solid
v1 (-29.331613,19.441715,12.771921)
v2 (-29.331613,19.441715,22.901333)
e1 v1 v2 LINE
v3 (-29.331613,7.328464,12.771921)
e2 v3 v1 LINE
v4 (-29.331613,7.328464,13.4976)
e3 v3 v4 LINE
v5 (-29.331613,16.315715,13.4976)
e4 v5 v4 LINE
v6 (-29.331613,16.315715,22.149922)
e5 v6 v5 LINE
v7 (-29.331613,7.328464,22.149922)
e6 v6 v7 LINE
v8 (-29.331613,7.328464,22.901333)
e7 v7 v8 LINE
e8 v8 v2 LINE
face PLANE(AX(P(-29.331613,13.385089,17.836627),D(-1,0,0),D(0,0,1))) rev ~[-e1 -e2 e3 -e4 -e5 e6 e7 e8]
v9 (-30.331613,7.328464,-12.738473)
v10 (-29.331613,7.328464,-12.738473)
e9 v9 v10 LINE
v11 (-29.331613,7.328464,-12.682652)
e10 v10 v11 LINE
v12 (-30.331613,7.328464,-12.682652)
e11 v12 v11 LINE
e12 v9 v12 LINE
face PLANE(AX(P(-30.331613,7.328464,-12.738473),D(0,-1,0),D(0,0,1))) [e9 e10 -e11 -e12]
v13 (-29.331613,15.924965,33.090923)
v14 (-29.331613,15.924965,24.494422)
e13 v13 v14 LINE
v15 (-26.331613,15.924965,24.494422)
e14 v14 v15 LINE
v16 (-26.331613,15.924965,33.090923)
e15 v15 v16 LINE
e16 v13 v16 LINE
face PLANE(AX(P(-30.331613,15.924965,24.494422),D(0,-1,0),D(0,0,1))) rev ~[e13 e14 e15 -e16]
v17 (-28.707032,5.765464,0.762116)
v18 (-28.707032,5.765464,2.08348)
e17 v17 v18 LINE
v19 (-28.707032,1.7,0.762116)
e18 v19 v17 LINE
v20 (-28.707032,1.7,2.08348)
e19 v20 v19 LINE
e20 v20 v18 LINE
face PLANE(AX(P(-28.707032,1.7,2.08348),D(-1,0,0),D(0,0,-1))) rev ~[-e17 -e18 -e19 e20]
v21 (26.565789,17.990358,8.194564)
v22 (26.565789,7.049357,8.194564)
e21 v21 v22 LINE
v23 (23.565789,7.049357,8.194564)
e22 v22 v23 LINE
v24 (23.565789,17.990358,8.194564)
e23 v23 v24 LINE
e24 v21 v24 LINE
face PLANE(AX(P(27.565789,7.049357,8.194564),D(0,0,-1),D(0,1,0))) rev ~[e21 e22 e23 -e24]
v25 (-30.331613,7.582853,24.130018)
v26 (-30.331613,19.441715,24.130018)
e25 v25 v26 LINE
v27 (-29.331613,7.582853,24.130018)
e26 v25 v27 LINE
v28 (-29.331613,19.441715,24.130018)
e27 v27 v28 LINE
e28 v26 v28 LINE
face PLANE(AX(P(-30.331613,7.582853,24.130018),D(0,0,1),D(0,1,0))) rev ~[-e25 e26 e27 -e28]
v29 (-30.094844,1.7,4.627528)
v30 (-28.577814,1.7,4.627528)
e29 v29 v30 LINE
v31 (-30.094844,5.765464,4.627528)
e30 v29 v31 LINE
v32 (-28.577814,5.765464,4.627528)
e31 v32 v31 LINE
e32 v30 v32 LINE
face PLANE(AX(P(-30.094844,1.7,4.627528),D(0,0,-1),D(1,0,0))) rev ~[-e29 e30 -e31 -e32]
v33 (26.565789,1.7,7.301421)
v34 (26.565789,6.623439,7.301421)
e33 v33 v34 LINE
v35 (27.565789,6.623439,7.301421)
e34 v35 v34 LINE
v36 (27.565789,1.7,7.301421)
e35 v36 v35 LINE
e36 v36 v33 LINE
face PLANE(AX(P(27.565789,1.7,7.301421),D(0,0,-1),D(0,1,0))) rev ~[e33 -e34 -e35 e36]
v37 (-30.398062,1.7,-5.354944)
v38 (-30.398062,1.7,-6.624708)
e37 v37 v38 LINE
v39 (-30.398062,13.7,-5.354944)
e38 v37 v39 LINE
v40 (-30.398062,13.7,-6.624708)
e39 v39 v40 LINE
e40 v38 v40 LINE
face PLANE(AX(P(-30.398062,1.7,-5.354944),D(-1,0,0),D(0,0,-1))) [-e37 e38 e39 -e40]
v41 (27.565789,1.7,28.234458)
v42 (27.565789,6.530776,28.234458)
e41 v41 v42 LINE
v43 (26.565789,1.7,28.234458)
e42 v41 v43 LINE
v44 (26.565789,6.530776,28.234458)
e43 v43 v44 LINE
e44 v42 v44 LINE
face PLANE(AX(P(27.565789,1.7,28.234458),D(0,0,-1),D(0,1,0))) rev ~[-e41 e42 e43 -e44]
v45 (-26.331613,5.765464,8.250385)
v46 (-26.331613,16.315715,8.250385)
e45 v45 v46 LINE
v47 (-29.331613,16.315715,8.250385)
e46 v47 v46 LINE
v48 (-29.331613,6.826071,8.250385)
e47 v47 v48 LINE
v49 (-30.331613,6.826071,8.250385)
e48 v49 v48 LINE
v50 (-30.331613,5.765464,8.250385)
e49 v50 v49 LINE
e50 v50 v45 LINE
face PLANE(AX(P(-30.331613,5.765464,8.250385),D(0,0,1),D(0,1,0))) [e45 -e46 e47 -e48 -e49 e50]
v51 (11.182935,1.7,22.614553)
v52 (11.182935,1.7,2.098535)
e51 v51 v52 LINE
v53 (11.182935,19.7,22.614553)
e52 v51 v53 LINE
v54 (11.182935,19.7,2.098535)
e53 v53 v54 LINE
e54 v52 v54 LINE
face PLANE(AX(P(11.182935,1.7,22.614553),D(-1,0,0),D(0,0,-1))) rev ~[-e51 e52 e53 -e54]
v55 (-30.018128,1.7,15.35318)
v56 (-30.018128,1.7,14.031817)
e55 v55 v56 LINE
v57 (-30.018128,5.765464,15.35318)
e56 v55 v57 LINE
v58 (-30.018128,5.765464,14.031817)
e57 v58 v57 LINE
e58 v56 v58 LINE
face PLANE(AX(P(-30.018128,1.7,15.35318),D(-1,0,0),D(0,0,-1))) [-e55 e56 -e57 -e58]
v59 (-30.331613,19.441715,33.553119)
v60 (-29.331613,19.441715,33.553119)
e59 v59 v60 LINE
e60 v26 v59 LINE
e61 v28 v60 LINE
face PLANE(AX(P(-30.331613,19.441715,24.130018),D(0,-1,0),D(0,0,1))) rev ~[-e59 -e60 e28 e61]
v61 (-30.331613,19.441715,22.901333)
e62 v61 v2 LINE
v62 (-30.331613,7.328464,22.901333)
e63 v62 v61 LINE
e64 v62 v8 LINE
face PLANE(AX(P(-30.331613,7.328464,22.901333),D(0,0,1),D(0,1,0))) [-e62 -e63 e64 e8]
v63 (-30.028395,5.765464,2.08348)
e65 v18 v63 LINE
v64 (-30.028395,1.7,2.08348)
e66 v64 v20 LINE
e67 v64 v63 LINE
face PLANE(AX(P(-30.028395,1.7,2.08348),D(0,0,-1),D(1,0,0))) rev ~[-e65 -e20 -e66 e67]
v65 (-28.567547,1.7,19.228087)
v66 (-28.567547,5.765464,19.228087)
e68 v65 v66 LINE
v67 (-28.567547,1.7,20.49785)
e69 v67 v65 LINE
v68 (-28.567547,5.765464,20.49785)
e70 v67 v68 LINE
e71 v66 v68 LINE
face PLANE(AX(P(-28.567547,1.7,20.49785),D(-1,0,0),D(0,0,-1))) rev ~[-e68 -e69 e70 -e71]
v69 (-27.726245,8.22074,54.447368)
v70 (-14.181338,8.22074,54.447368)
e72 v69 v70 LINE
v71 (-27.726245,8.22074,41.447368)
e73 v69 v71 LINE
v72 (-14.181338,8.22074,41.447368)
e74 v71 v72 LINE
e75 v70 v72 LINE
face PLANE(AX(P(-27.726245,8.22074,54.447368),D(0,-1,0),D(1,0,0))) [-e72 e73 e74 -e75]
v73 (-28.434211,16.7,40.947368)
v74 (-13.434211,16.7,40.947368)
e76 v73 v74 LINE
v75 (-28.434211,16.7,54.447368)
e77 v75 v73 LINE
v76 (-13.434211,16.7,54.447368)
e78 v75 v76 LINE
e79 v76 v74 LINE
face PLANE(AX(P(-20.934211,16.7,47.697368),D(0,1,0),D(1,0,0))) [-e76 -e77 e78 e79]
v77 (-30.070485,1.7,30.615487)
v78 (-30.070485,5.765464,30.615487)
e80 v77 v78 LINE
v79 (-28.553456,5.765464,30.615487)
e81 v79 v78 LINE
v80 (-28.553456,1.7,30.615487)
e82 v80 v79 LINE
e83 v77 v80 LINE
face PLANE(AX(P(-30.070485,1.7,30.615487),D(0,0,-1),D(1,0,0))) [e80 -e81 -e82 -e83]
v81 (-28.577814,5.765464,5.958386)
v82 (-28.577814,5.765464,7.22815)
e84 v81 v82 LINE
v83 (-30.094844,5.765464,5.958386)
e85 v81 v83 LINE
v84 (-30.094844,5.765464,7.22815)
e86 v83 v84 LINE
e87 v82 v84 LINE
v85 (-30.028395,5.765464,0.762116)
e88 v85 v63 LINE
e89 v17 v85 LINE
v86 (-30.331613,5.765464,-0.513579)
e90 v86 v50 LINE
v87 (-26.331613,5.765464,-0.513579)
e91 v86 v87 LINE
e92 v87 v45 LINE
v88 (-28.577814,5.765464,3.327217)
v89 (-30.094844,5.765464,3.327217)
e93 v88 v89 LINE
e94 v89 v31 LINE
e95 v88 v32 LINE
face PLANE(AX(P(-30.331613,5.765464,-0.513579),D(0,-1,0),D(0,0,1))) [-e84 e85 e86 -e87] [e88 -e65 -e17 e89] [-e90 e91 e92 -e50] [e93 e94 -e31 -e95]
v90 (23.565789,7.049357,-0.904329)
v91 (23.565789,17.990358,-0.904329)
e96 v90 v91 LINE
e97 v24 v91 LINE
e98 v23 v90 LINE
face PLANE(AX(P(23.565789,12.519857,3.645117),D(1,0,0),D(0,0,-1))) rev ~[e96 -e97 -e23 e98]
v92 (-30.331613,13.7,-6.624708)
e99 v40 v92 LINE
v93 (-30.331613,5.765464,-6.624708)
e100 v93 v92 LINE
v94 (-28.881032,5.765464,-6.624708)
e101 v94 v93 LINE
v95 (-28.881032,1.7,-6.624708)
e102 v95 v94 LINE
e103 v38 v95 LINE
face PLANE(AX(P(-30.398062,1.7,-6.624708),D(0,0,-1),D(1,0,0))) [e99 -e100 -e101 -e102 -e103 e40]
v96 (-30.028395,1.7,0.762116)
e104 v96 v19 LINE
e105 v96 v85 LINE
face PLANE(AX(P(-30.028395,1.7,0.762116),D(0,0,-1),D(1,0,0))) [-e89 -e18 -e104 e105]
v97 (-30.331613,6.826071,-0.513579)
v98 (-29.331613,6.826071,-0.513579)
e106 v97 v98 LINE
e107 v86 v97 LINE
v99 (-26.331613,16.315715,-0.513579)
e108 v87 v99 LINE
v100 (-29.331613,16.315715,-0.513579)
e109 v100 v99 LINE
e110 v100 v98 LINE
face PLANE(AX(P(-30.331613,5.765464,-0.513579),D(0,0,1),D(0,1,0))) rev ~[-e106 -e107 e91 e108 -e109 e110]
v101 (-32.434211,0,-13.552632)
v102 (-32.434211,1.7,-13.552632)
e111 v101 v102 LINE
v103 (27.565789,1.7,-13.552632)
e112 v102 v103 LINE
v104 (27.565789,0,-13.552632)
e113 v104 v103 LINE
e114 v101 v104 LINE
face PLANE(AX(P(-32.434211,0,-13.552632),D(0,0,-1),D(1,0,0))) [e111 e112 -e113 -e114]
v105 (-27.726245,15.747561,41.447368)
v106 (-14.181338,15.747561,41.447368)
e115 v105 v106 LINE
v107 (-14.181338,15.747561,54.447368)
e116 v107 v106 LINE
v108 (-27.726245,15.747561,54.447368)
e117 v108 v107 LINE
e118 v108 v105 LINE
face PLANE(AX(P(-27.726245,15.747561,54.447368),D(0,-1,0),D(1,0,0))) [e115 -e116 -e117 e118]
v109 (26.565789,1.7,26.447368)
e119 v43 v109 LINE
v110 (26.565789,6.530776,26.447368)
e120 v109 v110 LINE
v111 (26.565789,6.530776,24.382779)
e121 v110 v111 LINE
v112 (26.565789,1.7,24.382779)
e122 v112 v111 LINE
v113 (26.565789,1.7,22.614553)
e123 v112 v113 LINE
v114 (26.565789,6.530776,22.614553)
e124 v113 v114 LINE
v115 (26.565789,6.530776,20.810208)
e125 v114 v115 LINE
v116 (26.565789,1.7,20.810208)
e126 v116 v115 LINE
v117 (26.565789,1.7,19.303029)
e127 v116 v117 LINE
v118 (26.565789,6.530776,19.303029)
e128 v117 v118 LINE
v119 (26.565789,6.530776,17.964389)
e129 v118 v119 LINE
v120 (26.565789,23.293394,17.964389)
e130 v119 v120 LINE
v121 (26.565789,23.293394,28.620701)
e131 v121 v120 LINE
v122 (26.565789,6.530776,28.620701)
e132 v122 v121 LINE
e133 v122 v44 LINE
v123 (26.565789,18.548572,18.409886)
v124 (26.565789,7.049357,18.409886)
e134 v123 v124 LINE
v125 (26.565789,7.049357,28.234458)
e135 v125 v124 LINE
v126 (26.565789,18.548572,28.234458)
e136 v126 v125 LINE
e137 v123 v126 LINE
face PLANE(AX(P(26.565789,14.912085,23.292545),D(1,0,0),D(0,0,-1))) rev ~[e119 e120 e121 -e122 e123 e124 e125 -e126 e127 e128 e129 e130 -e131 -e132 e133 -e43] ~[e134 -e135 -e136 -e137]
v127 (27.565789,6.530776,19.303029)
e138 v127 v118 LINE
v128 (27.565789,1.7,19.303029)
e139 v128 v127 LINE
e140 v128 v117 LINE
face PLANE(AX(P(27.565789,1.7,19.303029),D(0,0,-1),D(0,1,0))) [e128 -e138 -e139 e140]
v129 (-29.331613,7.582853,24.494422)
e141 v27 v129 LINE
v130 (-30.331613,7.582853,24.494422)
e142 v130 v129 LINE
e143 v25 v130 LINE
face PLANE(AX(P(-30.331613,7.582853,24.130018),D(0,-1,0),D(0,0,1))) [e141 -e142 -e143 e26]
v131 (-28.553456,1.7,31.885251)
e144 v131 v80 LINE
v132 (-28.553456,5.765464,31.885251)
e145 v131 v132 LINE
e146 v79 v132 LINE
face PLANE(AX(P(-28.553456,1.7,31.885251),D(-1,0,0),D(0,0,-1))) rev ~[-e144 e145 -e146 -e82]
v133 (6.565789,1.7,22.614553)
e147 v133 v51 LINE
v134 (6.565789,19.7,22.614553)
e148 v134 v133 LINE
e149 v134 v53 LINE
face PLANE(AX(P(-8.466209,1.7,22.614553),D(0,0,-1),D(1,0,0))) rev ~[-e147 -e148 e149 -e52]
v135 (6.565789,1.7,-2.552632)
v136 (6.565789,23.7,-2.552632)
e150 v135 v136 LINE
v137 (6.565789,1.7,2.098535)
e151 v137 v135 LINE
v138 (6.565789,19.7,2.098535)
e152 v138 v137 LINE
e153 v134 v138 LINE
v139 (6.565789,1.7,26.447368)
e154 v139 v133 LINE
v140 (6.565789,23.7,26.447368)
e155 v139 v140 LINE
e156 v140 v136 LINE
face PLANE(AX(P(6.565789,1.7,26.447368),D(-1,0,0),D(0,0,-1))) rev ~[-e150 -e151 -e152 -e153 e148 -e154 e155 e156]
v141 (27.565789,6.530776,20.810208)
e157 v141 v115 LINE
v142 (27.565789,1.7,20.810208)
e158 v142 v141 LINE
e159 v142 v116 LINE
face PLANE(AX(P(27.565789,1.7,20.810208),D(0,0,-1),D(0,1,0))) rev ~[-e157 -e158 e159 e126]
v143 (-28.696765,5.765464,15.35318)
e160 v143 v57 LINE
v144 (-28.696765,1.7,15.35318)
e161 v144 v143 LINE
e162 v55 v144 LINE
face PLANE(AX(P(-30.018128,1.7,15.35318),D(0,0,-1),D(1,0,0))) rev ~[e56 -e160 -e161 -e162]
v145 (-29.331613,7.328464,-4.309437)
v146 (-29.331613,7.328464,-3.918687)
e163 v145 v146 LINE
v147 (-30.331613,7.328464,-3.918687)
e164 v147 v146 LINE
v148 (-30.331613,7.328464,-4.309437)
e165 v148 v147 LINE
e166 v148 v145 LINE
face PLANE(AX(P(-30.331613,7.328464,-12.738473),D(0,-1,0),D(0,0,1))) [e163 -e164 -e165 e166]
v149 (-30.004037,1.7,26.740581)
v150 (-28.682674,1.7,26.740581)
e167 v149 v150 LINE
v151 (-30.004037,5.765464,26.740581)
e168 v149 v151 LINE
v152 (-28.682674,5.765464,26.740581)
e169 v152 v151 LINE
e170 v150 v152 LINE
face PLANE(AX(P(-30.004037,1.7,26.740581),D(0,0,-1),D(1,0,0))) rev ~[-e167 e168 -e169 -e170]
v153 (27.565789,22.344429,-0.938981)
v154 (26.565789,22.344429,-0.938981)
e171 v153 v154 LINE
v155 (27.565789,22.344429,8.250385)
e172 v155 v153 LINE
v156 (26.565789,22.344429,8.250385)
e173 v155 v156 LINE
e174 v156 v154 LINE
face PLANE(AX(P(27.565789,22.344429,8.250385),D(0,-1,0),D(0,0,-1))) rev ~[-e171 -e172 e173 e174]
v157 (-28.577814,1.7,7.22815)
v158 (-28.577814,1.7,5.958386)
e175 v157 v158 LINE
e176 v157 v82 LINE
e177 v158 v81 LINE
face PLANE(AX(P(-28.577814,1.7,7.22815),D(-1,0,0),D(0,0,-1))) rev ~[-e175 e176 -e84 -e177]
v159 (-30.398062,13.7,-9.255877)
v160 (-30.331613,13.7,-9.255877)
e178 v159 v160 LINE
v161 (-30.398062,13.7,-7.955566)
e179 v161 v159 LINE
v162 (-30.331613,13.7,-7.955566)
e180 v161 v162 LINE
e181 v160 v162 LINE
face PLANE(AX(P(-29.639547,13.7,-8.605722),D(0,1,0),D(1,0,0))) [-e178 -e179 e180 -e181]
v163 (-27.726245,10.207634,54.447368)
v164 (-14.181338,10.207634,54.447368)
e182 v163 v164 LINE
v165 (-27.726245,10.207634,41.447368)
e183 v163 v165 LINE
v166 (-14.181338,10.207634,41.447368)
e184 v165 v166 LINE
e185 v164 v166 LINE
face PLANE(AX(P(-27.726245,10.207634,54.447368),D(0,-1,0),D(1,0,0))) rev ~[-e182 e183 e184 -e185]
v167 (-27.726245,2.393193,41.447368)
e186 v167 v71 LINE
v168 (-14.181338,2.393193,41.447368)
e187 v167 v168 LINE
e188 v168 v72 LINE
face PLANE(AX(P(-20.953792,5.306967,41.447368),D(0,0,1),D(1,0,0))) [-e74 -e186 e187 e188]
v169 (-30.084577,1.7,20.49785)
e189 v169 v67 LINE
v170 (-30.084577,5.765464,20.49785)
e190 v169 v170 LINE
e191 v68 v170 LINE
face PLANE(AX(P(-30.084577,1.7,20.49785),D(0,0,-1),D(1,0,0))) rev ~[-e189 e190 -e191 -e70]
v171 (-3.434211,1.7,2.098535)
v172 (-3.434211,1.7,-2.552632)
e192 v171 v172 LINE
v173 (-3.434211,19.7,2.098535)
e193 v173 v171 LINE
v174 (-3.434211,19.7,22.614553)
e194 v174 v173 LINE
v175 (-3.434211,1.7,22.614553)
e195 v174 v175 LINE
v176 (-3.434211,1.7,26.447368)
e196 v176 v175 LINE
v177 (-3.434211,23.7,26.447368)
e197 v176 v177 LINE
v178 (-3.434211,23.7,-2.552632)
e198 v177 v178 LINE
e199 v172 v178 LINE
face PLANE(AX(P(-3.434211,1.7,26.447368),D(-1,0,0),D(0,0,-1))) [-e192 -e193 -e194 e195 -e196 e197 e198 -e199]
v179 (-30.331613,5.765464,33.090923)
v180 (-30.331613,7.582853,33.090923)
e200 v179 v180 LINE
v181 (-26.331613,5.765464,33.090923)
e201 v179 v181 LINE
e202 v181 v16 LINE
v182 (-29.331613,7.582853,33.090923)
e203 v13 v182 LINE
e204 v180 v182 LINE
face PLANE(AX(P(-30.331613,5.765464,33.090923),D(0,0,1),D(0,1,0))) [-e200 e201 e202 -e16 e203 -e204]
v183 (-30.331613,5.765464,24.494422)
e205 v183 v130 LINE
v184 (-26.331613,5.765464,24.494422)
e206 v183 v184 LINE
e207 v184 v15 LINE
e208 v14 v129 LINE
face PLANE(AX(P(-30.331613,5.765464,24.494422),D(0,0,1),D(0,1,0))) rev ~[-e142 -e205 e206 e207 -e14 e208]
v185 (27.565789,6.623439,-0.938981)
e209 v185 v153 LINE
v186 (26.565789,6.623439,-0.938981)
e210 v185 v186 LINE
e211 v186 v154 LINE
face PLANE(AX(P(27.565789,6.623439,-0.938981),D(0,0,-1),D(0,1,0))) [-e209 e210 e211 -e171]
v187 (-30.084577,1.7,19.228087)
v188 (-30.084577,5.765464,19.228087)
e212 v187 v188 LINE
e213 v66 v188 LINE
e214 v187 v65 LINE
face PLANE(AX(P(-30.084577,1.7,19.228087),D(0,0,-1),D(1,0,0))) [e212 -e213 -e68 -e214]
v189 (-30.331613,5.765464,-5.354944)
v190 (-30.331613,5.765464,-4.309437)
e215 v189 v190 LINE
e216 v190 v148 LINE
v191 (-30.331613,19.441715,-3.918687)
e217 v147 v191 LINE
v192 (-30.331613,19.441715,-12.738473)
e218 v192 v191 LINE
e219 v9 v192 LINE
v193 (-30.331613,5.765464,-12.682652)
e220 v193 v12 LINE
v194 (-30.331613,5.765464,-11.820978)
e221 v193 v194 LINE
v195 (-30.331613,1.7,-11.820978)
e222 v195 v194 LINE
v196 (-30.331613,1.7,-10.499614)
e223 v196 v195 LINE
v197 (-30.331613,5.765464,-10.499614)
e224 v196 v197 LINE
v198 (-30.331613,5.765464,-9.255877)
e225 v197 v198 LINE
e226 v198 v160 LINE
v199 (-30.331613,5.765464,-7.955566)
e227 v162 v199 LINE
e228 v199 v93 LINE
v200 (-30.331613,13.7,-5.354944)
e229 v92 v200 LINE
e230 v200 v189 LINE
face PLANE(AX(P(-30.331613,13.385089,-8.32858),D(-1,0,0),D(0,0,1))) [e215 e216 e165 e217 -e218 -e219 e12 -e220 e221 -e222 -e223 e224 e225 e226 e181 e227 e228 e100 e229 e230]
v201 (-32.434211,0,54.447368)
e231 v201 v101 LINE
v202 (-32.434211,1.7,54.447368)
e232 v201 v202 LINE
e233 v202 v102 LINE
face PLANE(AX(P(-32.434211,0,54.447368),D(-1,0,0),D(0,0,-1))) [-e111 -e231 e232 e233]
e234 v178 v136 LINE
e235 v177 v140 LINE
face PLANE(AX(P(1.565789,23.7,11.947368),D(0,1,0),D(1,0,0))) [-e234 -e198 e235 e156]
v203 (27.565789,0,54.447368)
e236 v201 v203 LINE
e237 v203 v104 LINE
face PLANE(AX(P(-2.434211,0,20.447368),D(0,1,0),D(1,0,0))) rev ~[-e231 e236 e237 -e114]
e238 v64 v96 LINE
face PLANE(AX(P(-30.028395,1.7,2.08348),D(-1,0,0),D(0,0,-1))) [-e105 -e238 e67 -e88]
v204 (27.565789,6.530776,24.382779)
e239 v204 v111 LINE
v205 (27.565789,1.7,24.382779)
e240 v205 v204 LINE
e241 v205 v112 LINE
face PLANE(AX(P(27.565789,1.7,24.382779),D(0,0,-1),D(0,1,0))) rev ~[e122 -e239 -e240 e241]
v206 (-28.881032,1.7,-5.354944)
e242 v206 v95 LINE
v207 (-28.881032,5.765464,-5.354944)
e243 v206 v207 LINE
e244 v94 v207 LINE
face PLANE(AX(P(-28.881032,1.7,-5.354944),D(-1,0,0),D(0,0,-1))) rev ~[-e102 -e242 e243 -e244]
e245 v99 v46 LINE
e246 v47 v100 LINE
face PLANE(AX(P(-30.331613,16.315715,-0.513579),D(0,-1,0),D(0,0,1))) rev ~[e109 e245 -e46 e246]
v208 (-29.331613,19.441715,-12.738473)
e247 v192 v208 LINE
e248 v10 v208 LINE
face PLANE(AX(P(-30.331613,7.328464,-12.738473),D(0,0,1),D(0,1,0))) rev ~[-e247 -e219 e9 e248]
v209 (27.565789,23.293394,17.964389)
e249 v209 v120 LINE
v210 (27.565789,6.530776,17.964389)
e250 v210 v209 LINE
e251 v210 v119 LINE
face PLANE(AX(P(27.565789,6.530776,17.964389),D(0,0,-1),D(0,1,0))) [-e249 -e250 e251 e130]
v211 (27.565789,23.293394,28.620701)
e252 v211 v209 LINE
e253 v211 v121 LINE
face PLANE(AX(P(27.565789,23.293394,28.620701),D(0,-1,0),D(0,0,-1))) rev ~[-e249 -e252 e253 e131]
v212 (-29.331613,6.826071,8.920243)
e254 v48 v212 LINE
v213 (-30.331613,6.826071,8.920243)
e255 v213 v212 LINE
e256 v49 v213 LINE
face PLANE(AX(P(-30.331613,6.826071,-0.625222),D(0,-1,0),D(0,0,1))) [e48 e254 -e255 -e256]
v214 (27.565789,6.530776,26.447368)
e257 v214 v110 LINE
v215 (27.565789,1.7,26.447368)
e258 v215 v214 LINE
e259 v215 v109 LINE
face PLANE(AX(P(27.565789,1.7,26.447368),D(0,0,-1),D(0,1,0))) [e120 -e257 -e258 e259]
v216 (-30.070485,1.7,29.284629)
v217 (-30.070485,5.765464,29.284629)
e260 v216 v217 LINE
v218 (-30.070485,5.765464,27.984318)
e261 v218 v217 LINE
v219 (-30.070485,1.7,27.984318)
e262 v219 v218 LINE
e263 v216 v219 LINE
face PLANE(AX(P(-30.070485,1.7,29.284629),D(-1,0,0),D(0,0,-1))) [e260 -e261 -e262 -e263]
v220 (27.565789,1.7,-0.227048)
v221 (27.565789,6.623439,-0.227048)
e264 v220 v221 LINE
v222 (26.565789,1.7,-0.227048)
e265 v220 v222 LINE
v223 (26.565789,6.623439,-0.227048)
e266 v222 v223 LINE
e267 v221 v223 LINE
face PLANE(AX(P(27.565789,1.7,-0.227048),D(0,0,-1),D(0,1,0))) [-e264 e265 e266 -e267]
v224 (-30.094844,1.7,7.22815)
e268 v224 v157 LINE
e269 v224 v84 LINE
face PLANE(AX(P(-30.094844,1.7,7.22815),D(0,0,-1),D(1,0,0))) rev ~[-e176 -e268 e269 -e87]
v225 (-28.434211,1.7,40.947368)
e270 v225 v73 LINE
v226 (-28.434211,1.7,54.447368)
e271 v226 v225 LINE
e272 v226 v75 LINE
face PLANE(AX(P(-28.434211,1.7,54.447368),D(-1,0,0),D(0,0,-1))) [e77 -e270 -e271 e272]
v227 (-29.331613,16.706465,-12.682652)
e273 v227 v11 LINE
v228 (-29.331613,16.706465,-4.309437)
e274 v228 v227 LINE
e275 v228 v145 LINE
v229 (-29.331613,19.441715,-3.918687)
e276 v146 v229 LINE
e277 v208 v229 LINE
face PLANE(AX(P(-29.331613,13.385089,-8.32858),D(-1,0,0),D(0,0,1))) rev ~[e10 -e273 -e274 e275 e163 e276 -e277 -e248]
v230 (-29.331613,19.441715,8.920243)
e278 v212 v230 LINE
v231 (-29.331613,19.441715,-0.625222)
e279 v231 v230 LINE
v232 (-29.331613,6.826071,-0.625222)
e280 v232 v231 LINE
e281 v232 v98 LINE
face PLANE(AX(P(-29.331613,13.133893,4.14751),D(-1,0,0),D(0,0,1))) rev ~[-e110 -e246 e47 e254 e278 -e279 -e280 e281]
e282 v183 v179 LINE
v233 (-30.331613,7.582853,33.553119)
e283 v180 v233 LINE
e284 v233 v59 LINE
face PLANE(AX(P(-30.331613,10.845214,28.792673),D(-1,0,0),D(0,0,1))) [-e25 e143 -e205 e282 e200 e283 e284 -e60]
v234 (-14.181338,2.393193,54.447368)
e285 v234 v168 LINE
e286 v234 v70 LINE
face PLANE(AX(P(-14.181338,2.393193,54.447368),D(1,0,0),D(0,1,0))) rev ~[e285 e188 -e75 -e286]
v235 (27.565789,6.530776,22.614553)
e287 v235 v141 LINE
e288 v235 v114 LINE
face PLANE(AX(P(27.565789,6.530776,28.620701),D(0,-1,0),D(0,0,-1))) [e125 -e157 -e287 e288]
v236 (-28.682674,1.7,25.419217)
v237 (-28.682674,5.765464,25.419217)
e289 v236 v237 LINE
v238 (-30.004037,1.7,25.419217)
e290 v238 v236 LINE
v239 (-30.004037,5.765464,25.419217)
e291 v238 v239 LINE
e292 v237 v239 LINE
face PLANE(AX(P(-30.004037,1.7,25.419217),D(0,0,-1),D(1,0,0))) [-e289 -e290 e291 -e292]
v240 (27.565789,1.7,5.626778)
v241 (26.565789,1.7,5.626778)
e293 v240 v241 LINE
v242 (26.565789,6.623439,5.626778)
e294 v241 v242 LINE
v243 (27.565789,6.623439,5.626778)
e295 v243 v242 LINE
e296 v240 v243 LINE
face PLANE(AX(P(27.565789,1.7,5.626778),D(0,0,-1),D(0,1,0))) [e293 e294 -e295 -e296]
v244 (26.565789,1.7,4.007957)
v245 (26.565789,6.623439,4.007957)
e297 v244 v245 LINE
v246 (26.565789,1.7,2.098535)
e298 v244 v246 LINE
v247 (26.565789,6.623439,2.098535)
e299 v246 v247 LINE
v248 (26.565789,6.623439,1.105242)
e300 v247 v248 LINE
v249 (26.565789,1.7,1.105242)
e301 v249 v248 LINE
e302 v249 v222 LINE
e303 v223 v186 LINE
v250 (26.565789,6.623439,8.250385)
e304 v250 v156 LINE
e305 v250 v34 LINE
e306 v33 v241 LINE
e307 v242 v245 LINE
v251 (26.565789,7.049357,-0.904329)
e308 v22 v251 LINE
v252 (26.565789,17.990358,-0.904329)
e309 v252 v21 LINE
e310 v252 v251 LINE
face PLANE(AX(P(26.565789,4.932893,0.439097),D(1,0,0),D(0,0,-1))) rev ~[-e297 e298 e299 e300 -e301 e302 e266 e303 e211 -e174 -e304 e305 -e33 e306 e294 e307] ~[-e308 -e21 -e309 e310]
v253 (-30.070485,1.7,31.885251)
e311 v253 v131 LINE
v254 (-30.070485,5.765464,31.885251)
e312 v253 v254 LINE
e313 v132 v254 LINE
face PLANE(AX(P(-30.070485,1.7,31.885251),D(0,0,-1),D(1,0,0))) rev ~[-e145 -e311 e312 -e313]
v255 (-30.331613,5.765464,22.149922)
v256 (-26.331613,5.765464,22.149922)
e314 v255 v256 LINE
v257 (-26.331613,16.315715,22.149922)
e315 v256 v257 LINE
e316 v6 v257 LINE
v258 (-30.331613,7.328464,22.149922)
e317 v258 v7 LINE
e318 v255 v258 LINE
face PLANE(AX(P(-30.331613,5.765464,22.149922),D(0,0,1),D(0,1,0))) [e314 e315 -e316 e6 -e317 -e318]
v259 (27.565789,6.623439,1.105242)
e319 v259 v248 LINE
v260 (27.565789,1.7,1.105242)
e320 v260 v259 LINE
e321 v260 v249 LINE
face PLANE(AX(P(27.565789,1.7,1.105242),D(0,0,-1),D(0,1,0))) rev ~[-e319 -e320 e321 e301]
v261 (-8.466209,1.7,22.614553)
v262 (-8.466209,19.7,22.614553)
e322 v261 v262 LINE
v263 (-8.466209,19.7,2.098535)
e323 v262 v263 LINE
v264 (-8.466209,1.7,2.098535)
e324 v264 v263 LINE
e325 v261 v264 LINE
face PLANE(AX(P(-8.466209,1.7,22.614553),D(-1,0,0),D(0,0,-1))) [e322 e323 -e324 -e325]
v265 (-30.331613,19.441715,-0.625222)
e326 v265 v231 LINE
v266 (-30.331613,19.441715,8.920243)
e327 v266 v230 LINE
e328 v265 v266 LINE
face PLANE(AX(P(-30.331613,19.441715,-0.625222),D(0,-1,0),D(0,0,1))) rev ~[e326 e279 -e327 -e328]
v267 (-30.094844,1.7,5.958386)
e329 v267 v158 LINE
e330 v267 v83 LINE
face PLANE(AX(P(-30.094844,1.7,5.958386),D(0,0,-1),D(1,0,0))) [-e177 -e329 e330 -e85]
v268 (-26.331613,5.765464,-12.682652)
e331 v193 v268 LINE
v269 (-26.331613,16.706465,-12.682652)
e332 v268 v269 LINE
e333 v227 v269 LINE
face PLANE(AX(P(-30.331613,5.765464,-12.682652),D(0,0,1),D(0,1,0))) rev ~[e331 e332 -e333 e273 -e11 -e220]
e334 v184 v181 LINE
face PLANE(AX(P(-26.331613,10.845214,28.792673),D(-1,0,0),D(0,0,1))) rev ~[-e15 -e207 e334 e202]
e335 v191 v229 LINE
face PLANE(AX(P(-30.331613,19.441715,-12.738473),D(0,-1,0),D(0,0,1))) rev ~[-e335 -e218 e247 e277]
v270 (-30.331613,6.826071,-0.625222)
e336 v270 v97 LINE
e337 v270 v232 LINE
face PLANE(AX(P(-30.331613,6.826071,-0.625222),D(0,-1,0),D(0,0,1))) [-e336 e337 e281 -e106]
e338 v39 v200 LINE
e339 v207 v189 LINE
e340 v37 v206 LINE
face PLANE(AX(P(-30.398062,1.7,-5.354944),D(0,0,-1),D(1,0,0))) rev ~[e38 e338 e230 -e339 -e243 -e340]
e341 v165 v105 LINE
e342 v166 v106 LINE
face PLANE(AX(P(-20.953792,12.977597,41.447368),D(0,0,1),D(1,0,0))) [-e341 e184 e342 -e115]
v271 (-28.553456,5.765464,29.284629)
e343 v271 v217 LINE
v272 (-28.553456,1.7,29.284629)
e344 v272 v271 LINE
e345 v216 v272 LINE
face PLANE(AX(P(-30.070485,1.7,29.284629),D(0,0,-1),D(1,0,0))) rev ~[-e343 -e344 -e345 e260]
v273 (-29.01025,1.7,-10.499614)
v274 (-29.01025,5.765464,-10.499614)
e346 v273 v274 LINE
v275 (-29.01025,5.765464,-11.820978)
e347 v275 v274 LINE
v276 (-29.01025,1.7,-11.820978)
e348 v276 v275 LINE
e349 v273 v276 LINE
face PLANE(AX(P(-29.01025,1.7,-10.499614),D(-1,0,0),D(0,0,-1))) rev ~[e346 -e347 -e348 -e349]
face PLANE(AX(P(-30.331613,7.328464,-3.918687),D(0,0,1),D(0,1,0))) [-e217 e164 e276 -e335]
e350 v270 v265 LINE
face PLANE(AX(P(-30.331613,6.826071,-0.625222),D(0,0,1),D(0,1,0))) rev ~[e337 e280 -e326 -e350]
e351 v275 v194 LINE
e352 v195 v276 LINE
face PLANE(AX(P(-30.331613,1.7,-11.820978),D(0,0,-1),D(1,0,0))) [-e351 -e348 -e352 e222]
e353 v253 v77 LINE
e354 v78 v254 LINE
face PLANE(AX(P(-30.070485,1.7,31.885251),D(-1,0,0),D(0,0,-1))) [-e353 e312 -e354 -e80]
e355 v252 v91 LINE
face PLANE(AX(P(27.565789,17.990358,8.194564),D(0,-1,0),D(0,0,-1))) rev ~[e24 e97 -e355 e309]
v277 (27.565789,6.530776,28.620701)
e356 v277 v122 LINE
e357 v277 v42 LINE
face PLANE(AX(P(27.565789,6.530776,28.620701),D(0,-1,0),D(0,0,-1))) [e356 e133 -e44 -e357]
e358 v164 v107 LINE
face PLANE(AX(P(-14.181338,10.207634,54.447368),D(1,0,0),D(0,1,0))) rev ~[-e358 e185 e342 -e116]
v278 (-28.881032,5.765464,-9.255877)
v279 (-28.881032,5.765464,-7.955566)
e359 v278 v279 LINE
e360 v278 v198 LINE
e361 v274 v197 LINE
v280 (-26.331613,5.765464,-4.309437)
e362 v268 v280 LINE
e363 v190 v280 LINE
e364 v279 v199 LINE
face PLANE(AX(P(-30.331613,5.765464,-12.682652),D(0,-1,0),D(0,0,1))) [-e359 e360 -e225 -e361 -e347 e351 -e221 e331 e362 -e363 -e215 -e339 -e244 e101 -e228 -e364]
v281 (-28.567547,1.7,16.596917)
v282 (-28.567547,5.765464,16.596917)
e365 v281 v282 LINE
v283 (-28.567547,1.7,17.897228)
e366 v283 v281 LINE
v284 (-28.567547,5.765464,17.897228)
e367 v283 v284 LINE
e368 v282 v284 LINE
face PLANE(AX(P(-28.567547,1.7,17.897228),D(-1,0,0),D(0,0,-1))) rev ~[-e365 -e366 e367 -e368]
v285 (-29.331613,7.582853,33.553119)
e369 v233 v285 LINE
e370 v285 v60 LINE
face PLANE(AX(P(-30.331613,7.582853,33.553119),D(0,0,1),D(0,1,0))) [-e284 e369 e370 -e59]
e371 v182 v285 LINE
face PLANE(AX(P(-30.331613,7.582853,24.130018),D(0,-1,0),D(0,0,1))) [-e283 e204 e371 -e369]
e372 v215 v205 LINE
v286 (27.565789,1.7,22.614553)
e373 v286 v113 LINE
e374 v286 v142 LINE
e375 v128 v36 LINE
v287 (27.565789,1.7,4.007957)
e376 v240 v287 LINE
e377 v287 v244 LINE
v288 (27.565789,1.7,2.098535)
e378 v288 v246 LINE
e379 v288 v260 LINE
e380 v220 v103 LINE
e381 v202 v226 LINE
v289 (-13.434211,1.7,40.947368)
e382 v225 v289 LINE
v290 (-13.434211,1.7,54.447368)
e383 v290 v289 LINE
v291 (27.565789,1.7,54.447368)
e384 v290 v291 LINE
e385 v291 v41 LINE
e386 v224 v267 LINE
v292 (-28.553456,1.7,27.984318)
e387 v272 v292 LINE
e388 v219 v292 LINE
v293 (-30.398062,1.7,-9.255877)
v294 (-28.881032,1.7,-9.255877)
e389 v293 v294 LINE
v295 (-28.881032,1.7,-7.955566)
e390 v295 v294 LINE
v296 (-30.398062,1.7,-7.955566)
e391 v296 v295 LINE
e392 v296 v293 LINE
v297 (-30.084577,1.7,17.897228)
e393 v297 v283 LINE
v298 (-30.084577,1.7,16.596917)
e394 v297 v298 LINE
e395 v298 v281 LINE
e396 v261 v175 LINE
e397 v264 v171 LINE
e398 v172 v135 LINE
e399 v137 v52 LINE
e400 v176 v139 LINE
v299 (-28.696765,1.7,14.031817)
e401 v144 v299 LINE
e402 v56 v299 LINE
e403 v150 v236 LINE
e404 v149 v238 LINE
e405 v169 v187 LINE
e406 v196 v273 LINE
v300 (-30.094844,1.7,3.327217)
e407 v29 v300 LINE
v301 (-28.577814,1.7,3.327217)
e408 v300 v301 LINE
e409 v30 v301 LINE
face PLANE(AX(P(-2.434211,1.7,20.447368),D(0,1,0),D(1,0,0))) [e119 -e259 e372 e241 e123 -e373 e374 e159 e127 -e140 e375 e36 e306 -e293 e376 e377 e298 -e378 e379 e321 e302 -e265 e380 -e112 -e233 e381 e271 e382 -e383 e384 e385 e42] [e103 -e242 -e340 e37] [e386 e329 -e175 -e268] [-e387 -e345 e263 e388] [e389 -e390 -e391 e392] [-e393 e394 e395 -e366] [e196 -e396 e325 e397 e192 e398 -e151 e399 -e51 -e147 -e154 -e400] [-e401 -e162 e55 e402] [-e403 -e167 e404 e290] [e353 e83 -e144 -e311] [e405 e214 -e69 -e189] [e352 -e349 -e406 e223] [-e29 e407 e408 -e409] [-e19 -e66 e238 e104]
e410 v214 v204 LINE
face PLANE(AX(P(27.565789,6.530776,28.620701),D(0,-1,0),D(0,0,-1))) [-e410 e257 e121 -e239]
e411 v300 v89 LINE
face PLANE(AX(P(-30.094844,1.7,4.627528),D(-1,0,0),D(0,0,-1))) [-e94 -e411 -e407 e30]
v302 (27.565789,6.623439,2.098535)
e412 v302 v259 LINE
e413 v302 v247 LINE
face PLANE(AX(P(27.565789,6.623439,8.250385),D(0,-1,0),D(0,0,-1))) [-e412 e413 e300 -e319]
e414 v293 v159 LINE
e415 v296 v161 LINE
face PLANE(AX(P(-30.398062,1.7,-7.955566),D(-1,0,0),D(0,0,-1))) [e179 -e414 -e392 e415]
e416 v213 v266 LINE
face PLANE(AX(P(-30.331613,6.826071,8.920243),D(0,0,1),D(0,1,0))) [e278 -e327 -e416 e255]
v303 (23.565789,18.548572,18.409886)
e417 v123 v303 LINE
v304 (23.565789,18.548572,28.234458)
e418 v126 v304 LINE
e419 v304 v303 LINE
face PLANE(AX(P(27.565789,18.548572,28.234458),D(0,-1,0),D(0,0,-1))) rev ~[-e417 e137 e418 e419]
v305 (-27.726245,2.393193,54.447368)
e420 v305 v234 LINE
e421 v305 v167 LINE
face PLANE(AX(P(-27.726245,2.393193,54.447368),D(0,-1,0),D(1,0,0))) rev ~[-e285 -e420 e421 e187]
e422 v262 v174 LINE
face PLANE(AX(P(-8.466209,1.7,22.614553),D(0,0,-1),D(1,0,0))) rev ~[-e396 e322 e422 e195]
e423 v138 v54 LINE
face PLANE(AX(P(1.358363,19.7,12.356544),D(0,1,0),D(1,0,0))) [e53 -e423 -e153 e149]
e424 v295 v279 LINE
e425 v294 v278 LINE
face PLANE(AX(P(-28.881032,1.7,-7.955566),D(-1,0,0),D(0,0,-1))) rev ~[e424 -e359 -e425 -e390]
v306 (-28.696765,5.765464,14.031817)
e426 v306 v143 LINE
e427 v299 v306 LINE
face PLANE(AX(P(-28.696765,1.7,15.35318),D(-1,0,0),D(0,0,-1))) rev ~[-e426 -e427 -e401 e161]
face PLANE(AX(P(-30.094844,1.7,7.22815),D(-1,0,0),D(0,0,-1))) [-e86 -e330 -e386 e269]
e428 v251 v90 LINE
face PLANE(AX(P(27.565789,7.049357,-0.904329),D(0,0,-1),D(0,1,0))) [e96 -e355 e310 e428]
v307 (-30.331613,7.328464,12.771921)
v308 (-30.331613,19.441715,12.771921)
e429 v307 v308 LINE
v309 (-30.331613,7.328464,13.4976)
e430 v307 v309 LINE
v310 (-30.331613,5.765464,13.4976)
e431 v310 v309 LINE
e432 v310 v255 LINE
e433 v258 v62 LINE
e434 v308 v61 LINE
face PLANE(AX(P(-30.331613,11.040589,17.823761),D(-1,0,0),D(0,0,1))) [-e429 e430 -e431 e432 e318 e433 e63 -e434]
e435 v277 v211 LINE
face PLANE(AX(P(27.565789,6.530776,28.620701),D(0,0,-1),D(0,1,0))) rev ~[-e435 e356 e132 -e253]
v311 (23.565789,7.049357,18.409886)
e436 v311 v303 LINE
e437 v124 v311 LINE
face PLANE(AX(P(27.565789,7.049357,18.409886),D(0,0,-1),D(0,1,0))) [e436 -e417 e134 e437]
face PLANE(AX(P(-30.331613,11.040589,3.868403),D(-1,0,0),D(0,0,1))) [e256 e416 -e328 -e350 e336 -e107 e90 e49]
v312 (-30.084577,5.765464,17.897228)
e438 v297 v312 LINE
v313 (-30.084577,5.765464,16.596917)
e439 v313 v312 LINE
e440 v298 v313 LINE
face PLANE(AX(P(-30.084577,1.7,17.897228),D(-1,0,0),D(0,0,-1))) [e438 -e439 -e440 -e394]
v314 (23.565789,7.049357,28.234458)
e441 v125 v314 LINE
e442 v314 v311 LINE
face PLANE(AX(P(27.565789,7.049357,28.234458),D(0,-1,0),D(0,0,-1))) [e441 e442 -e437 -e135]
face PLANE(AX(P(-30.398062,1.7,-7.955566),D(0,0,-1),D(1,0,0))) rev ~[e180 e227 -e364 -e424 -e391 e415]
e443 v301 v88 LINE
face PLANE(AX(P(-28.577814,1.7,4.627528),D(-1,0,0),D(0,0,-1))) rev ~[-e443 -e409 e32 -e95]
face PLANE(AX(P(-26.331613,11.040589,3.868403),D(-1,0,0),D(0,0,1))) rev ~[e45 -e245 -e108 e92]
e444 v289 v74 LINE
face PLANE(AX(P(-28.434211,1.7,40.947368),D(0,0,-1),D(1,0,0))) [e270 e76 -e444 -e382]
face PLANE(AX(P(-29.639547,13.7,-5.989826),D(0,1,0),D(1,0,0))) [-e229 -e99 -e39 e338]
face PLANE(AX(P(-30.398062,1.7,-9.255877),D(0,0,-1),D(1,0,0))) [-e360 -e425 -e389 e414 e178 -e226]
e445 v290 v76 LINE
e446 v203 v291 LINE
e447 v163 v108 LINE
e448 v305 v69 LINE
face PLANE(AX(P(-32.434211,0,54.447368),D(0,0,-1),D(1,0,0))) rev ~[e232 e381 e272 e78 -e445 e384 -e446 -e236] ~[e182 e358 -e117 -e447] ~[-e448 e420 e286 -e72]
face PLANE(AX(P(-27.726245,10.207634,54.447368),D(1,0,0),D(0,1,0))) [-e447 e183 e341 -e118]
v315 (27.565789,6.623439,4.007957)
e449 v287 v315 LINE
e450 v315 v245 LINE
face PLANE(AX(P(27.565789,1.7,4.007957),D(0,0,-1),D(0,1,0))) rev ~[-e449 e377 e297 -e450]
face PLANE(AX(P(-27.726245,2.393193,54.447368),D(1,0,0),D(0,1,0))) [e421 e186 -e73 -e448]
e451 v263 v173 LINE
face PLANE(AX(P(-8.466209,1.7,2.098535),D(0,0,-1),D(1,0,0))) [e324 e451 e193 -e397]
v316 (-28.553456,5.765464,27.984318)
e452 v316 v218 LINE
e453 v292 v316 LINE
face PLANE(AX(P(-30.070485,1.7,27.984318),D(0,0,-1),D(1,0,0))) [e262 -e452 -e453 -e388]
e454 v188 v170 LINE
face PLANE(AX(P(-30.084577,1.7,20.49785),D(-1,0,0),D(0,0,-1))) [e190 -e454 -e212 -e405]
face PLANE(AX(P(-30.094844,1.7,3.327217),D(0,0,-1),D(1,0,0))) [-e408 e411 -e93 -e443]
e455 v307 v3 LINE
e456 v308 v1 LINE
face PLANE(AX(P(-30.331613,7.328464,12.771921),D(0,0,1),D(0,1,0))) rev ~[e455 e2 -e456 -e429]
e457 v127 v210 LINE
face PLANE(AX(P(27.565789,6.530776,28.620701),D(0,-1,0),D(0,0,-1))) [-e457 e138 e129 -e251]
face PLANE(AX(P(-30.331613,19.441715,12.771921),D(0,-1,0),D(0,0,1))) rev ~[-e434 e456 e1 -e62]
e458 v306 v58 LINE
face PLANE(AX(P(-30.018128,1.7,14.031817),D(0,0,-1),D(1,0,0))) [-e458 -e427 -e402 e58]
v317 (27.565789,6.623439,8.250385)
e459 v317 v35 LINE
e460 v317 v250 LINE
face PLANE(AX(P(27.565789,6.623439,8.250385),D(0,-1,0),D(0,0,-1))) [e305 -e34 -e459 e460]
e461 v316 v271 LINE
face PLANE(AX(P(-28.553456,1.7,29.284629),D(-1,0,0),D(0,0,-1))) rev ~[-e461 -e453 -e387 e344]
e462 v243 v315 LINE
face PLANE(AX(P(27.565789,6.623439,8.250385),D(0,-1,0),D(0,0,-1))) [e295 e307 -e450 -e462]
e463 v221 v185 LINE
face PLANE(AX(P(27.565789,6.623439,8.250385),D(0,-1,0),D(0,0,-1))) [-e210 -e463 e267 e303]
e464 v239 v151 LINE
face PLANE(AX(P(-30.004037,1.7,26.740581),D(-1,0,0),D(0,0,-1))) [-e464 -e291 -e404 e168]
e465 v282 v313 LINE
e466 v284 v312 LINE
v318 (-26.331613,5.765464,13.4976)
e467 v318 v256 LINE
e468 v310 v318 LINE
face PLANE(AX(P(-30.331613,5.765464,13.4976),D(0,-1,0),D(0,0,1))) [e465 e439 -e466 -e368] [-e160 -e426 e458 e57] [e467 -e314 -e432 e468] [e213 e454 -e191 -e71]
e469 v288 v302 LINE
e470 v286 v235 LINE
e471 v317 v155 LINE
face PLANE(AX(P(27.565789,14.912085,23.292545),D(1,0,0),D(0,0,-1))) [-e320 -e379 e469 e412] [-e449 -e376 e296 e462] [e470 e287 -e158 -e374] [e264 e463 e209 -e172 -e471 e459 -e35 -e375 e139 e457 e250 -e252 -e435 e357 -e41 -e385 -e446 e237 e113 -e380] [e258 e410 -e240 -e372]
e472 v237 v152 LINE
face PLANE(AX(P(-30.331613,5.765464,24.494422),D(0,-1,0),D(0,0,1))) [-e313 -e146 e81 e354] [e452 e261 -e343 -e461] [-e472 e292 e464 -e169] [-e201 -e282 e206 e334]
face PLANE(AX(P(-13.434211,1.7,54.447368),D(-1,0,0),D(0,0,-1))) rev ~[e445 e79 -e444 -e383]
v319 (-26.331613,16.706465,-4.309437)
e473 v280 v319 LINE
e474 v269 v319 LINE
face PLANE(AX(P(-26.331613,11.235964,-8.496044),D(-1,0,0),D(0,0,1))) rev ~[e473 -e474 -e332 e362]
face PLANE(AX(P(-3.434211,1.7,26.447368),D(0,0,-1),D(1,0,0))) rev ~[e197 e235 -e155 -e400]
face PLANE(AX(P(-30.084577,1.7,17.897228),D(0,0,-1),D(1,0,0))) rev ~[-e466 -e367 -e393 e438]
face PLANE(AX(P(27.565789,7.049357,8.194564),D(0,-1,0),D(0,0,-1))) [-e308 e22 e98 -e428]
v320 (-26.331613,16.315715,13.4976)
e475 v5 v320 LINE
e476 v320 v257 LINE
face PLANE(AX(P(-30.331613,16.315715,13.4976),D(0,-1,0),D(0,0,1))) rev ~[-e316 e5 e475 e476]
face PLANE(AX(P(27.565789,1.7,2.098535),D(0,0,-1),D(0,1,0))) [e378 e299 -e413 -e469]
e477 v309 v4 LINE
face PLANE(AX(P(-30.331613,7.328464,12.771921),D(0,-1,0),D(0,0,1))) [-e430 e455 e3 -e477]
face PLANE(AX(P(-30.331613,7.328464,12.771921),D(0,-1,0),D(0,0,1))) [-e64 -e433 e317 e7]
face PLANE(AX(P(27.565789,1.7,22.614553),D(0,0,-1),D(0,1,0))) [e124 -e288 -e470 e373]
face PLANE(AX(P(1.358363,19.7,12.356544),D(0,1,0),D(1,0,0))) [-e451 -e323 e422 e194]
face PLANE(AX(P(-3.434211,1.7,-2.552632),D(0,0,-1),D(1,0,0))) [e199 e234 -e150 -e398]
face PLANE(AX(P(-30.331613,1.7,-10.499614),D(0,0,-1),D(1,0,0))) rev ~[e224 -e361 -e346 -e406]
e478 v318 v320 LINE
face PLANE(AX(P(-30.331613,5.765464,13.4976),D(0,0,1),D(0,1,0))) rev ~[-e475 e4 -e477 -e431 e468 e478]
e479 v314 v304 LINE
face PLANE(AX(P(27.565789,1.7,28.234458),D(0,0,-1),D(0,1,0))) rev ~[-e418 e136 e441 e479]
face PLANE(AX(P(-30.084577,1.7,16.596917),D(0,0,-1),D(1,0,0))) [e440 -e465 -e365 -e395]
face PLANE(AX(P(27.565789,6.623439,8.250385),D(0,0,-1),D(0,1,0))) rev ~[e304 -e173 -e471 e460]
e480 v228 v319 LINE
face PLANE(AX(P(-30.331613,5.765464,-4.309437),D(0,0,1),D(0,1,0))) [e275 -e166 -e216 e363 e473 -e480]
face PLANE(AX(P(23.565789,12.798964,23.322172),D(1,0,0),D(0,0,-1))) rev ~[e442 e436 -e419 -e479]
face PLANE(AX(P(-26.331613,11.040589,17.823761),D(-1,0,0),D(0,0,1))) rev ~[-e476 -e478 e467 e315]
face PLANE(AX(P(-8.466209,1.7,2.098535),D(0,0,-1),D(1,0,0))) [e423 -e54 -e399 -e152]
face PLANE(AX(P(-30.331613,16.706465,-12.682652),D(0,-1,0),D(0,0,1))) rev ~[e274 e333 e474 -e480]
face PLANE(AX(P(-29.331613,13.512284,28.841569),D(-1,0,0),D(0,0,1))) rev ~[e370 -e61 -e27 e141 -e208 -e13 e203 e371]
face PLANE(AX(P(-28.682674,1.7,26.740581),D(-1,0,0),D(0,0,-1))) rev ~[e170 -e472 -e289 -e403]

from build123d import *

# Parameters (mm, degrees)
SKETCH1_W             = 60
SKETCH1_H             = 68
BOSS_EXTRUDE1_DEPTH   = 1.7
SKETCH2_W             = 10
SKETCH2_H             = 29
BOSS_EXTRUDE2_DEPTH   = 22
SKETCH3_W             = 19.649144156
SKETCH3_H             = 20.516018163
BOSS_EXTRUDE3_DEPTH   = 18
SKETCH4_W             = 15
SKETCH4_H             = 13.5
BOSS_EXTRUDE4_DEPTH   = 15
SKETCH5_W             = 13.544906357
SKETCH5_H             = 5.539926829
SKETCH5_H_2           = 5.827547791
CUT_EXTRUDE2_DEPTH    = 13
SKETCH6_W             = 9.824572078
SKETCH6_H             = 11.499215045
BOSS_EXTRUDE5_DEPTH   = 4
SKETCH6_W_2           = 9.098893459
SKETCH6_H_2           = 10.941000723
BOSS_EXTRUDE5_2_DEPTH = 4
SKETCH7_W             = 1.787089801
SKETCH7_H             = 6.912356929
SKETCH7_W_2           = 1.768225957
SKETCH7_W_3           = 1.507178671
SKETCH7_W_4           = 1.674642967
SKETCH7_H_2           = 6.465785471
SKETCH7_W_5           = 1.909421345
SKETCH7_W_6           = 1.332290294
BOSS_EXTRUDE6_DEPTH   = 1
SKETCH8_W             = 10.656311419
SKETCH8_H             = 16.762617894
SKETCH8_W_2           = 9.189366045
SKETCH8_H_2           = 15.720989968
BOSS_EXTRUDE7_DEPTH   = 1
SKETCH9_W             = 1.321363234
SKETCH9_H             = 1.321363233
SKETCH9_W_2           = 1.321363233
SKETCH9_H_2           = 1.321363234
SKETCH9_W_3           = 1.517029512
SKETCH9_H_3           = 1.30031101
SKETCH9_H_4           = 1.269763662
SKETCH9_H_5           = 1.300311011
SKETCH9_W_4           = 1.517029513
BOSS_EXTRUDE8_DEPTH   = 12
SKETCH10_W            = 8.373214839
SKETCH10_H            = 10.941000724
SKETCH10_W_2          = 8.763964865
SKETCH10_H_2          = 10.550250698
SKETCH10_W_3          = 8.652322001
SKETCH10_W_4          = 8.596500568
SKETCH10_H_3          = 10.159500672
BOSS_EXTRUDE9_DEPTH   = 4
SKETCH11_W            = 8.819786297
SKETCH11_H            = 12.113250801
SKETCH11_W_2          = 9.545464917
SKETCH11_H_2          = 12.615643692
SKETCH11_W_3          = 10.129411828
SKETCH11_W_4          = 9.423101323
SKETCH11_H_3          = 11.858861387
BOSS_EXTRUDE10_DEPTH  = 1


with BuildPart() as part:
    # Sketch1 → Boss-Extrude1 (new body)
    with BuildSketch(Plane(origin=(0, 0, 0), x_dir=(1, 0, 0), z_dir=(0, 1, 0))):
        with Locations((-2.434210526, -20.447368421)):
            Rectangle(SKETCH1_W, SKETCH1_H)
    extrude(amount=BOSS_EXTRUDE1_DEPTH)

    # Sketch2 → Boss-Extrude2 (add)
    with BuildSketch(Plane(origin=(0, 1.7, 0), x_dir=(1, 0, 0), z_dir=(0, 1, 0))):
        with Locations((1.565789474, -11.947368421)):
            Rectangle(SKETCH2_W, SKETCH2_H)
    extrude(amount=BOSS_EXTRUDE2_DEPTH)

    # Sketch3 → Boss-Extrude3 (add)
    with BuildSketch(Plane(origin=(0, 1.7, 0), x_dir=(1, 0, 0), z_dir=(0, 1, 0))):
        with Locations((1.358363254, -12.356544357)):
            Rectangle(SKETCH3_W, SKETCH3_H)
    extrude(amount=BOSS_EXTRUDE3_DEPTH)

    # Sketch4 → Boss-Extrude4 (add)
    with BuildSketch(Plane(origin=(0, 1.7, 0), x_dir=(1, 0, 0), z_dir=(0, 1, 0))):
        with Locations((-20.934210526, -47.697368421)):
            Rectangle(SKETCH4_W, SKETCH4_H)
    extrude(amount=BOSS_EXTRUDE4_DEPTH)

    # Sketch5 → Cut-Extrude2 (cut)
    with BuildSketch(Plane.XY.offset(54.447368421)):
        with Locations((-20.953791583, 12.977597446)):
            Rectangle(SKETCH5_W, SKETCH5_H)
        with Locations((-20.953791583, 5.306966548)):
            Rectangle(SKETCH5_W, SKETCH5_H_2)
    extrude(amount=-CUT_EXTRUDE2_DEPTH, mode=Mode.SUBTRACT)



with BuildPart() as body_2:
    # Sketch6 → Boss-Extrude5 (new body)
    with BuildSketch(Plane(origin=(27.565789474, 0, 0), x_dir=(0, 0, -1), z_dir=(1, 0, 0))):
        with Locations((-23.322172183, 12.798964349)):
            Rectangle(SKETCH6_W, SKETCH6_H)
    extrude(amount=-BOSS_EXTRUDE5_DEPTH)


with BuildPart() as body_3:
    # Sketch6 → Boss-Extrude5 2 (new body)
    with BuildSketch(Plane(origin=(27.565789474, 0, 0), x_dir=(0, 0, -1), z_dir=(1, 0, 0))):
        with Locations((-3.645117311, 12.519857188)):
            Rectangle(SKETCH6_W_2, SKETCH6_H_2)
    extrude(amount=-BOSS_EXTRUDE5_2_DEPTH)


with BuildPart() as part_1:
    add(part.part)

    add(body_2.part)  # Boss-Extrude6 merges body 2

    add(body_3.part)  # Boss-Extrude6 merges body 3
    # Sketch7 → Boss-Extrude6 (add)
    with BuildSketch(Plane(origin=(27.565789474, 0, 0), x_dir=(0, 0, -1), z_dir=(1, 0, 0))):
        with Locations((-27.340913322, 5.156178464)):
            Rectangle(SKETCH7_W, SKETCH7_H)
        with Locations((-23.498666417, 5.156178464)):
            Rectangle(SKETCH7_W_2, SKETCH7_H)
        with Locations((-20.056618396, 5.156178464)):
            Rectangle(SKETCH7_W_3, SKETCH7_H)
        with Locations((-6.46409964, 4.932892736)):
            Rectangle(SKETCH7_W_4, SKETCH7_H_2)
        with Locations((-3.053245947, 4.932892736)):
            Rectangle(SKETCH7_W_5, SKETCH7_H_2)
        with Locations((-0.439096995, 4.932892736)):
            Rectangle(SKETCH7_W_6, SKETCH7_H_2)
    extrude(amount=-BOSS_EXTRUDE6_DEPTH)

    # Sketch8 → Boss-Extrude7 (add)
    with BuildSketch(Plane(origin=(27.565789474, 0, 0), x_dir=(0, 0, -1), z_dir=(1, 0, 0))):
        with Locations((-23.292544957, 14.912084667)):
            Rectangle(SKETCH8_W, SKETCH8_H)
        with Locations((-3.65570245, 14.483934281)):
            Rectangle(SKETCH8_W_2, SKETCH8_H_2)
    extrude(amount=-BOSS_EXTRUDE7_DEPTH)

    # Sketch9 → Boss-Extrude8 (add)
    with BuildSketch(Plane(origin=(0, 1.7, 0), x_dir=(1, 0, 0), z_dir=(0, 1, 0))):
        with Locations((-29.367713838, -1.42279795)):
            Rectangle(SKETCH9_W, SKETCH9_H)
        with Locations((-29.670931722, 11.160296109)):
            Rectangle(SKETCH9_W_2, SKETCH9_H_2)
        with Locations((-29.639547043, 8.60572197)):
            Rectangle(SKETCH9_W_3, SKETCH9_H_3)
        with Locations((-29.639547043, 5.989826275)):
            Rectangle(SKETCH9_W_3, SKETCH9_H_4)
        with Locations((-29.336329159, -3.97737209)):
            Rectangle(SKETCH9_W_3, SKETCH9_H_5)
        with Locations((-29.336329159, -6.593267784)):
            Rectangle(SKETCH9_W_3, SKETCH9_H_4)
        with Locations((-29.357446593, -14.692498665)):
            Rectangle(SKETCH9_W_2, SKETCH9_H)
        with Locations((-29.326061914, -17.247072804)):
            Rectangle(SKETCH9_W_3, SKETCH9_H_3)
        with Locations((-29.326061914, -19.862968498)):
            Rectangle(SKETCH9_W_3, SKETCH9_H_4)
        with Locations((-29.34335534, -26.079899051)):
            Rectangle(SKETCH9_W, SKETCH9_H)
        with Locations((-29.311970662, -28.63447319)):
            Rectangle(SKETCH9_W_4, SKETCH9_H_3)
        with Locations((-29.311970662, -31.250368885)):
            Rectangle(SKETCH9_W_4, SKETCH9_H_4)
    extrude(amount=BOSS_EXTRUDE8_DEPTH)

    # Sketch10 → Boss-Extrude9 (add)
    with BuildSketch(Plane.ZY.offset(30.331613338)):
        with Locations((-8.496044207, 11.235964245)):
            Rectangle(SKETCH10_W, SKETCH10_H)
        with Locations((3.86840304, 11.040589232)):
            Rectangle(SKETCH10_W_2, SKETCH10_H_2)
        with Locations((17.823761105, 11.040589232)):
            Rectangle(SKETCH10_W_3, SKETCH10_H_2)
        with Locations((28.792672544, 10.845214219)):
            Rectangle(SKETCH10_W_4, SKETCH10_H_3)
    extrude(amount=-BOSS_EXTRUDE9_DEPTH)

    # Sketch11 → Boss-Extrude10 (add)
    with BuildSketch(Plane.ZY.offset(30.331613338)):
        with Locations((-8.32857991, 13.385089388)):
            Rectangle(SKETCH11_W, SKETCH11_H)
        with Locations((4.147510201, 13.133892942)):
            Rectangle(SKETCH11_W_2, SKETCH11_H_2)
        with Locations((17.836627399, 13.385089388)):
            Rectangle(SKETCH11_W_3, SKETCH11_H)
        with Locations((28.841568651, 13.512284095)):
            Rectangle(SKETCH11_W_4, SKETCH11_H_3)
    extrude(amount=-BOSS_EXTRUDE10_DEPTH)


solid = part_1.part
